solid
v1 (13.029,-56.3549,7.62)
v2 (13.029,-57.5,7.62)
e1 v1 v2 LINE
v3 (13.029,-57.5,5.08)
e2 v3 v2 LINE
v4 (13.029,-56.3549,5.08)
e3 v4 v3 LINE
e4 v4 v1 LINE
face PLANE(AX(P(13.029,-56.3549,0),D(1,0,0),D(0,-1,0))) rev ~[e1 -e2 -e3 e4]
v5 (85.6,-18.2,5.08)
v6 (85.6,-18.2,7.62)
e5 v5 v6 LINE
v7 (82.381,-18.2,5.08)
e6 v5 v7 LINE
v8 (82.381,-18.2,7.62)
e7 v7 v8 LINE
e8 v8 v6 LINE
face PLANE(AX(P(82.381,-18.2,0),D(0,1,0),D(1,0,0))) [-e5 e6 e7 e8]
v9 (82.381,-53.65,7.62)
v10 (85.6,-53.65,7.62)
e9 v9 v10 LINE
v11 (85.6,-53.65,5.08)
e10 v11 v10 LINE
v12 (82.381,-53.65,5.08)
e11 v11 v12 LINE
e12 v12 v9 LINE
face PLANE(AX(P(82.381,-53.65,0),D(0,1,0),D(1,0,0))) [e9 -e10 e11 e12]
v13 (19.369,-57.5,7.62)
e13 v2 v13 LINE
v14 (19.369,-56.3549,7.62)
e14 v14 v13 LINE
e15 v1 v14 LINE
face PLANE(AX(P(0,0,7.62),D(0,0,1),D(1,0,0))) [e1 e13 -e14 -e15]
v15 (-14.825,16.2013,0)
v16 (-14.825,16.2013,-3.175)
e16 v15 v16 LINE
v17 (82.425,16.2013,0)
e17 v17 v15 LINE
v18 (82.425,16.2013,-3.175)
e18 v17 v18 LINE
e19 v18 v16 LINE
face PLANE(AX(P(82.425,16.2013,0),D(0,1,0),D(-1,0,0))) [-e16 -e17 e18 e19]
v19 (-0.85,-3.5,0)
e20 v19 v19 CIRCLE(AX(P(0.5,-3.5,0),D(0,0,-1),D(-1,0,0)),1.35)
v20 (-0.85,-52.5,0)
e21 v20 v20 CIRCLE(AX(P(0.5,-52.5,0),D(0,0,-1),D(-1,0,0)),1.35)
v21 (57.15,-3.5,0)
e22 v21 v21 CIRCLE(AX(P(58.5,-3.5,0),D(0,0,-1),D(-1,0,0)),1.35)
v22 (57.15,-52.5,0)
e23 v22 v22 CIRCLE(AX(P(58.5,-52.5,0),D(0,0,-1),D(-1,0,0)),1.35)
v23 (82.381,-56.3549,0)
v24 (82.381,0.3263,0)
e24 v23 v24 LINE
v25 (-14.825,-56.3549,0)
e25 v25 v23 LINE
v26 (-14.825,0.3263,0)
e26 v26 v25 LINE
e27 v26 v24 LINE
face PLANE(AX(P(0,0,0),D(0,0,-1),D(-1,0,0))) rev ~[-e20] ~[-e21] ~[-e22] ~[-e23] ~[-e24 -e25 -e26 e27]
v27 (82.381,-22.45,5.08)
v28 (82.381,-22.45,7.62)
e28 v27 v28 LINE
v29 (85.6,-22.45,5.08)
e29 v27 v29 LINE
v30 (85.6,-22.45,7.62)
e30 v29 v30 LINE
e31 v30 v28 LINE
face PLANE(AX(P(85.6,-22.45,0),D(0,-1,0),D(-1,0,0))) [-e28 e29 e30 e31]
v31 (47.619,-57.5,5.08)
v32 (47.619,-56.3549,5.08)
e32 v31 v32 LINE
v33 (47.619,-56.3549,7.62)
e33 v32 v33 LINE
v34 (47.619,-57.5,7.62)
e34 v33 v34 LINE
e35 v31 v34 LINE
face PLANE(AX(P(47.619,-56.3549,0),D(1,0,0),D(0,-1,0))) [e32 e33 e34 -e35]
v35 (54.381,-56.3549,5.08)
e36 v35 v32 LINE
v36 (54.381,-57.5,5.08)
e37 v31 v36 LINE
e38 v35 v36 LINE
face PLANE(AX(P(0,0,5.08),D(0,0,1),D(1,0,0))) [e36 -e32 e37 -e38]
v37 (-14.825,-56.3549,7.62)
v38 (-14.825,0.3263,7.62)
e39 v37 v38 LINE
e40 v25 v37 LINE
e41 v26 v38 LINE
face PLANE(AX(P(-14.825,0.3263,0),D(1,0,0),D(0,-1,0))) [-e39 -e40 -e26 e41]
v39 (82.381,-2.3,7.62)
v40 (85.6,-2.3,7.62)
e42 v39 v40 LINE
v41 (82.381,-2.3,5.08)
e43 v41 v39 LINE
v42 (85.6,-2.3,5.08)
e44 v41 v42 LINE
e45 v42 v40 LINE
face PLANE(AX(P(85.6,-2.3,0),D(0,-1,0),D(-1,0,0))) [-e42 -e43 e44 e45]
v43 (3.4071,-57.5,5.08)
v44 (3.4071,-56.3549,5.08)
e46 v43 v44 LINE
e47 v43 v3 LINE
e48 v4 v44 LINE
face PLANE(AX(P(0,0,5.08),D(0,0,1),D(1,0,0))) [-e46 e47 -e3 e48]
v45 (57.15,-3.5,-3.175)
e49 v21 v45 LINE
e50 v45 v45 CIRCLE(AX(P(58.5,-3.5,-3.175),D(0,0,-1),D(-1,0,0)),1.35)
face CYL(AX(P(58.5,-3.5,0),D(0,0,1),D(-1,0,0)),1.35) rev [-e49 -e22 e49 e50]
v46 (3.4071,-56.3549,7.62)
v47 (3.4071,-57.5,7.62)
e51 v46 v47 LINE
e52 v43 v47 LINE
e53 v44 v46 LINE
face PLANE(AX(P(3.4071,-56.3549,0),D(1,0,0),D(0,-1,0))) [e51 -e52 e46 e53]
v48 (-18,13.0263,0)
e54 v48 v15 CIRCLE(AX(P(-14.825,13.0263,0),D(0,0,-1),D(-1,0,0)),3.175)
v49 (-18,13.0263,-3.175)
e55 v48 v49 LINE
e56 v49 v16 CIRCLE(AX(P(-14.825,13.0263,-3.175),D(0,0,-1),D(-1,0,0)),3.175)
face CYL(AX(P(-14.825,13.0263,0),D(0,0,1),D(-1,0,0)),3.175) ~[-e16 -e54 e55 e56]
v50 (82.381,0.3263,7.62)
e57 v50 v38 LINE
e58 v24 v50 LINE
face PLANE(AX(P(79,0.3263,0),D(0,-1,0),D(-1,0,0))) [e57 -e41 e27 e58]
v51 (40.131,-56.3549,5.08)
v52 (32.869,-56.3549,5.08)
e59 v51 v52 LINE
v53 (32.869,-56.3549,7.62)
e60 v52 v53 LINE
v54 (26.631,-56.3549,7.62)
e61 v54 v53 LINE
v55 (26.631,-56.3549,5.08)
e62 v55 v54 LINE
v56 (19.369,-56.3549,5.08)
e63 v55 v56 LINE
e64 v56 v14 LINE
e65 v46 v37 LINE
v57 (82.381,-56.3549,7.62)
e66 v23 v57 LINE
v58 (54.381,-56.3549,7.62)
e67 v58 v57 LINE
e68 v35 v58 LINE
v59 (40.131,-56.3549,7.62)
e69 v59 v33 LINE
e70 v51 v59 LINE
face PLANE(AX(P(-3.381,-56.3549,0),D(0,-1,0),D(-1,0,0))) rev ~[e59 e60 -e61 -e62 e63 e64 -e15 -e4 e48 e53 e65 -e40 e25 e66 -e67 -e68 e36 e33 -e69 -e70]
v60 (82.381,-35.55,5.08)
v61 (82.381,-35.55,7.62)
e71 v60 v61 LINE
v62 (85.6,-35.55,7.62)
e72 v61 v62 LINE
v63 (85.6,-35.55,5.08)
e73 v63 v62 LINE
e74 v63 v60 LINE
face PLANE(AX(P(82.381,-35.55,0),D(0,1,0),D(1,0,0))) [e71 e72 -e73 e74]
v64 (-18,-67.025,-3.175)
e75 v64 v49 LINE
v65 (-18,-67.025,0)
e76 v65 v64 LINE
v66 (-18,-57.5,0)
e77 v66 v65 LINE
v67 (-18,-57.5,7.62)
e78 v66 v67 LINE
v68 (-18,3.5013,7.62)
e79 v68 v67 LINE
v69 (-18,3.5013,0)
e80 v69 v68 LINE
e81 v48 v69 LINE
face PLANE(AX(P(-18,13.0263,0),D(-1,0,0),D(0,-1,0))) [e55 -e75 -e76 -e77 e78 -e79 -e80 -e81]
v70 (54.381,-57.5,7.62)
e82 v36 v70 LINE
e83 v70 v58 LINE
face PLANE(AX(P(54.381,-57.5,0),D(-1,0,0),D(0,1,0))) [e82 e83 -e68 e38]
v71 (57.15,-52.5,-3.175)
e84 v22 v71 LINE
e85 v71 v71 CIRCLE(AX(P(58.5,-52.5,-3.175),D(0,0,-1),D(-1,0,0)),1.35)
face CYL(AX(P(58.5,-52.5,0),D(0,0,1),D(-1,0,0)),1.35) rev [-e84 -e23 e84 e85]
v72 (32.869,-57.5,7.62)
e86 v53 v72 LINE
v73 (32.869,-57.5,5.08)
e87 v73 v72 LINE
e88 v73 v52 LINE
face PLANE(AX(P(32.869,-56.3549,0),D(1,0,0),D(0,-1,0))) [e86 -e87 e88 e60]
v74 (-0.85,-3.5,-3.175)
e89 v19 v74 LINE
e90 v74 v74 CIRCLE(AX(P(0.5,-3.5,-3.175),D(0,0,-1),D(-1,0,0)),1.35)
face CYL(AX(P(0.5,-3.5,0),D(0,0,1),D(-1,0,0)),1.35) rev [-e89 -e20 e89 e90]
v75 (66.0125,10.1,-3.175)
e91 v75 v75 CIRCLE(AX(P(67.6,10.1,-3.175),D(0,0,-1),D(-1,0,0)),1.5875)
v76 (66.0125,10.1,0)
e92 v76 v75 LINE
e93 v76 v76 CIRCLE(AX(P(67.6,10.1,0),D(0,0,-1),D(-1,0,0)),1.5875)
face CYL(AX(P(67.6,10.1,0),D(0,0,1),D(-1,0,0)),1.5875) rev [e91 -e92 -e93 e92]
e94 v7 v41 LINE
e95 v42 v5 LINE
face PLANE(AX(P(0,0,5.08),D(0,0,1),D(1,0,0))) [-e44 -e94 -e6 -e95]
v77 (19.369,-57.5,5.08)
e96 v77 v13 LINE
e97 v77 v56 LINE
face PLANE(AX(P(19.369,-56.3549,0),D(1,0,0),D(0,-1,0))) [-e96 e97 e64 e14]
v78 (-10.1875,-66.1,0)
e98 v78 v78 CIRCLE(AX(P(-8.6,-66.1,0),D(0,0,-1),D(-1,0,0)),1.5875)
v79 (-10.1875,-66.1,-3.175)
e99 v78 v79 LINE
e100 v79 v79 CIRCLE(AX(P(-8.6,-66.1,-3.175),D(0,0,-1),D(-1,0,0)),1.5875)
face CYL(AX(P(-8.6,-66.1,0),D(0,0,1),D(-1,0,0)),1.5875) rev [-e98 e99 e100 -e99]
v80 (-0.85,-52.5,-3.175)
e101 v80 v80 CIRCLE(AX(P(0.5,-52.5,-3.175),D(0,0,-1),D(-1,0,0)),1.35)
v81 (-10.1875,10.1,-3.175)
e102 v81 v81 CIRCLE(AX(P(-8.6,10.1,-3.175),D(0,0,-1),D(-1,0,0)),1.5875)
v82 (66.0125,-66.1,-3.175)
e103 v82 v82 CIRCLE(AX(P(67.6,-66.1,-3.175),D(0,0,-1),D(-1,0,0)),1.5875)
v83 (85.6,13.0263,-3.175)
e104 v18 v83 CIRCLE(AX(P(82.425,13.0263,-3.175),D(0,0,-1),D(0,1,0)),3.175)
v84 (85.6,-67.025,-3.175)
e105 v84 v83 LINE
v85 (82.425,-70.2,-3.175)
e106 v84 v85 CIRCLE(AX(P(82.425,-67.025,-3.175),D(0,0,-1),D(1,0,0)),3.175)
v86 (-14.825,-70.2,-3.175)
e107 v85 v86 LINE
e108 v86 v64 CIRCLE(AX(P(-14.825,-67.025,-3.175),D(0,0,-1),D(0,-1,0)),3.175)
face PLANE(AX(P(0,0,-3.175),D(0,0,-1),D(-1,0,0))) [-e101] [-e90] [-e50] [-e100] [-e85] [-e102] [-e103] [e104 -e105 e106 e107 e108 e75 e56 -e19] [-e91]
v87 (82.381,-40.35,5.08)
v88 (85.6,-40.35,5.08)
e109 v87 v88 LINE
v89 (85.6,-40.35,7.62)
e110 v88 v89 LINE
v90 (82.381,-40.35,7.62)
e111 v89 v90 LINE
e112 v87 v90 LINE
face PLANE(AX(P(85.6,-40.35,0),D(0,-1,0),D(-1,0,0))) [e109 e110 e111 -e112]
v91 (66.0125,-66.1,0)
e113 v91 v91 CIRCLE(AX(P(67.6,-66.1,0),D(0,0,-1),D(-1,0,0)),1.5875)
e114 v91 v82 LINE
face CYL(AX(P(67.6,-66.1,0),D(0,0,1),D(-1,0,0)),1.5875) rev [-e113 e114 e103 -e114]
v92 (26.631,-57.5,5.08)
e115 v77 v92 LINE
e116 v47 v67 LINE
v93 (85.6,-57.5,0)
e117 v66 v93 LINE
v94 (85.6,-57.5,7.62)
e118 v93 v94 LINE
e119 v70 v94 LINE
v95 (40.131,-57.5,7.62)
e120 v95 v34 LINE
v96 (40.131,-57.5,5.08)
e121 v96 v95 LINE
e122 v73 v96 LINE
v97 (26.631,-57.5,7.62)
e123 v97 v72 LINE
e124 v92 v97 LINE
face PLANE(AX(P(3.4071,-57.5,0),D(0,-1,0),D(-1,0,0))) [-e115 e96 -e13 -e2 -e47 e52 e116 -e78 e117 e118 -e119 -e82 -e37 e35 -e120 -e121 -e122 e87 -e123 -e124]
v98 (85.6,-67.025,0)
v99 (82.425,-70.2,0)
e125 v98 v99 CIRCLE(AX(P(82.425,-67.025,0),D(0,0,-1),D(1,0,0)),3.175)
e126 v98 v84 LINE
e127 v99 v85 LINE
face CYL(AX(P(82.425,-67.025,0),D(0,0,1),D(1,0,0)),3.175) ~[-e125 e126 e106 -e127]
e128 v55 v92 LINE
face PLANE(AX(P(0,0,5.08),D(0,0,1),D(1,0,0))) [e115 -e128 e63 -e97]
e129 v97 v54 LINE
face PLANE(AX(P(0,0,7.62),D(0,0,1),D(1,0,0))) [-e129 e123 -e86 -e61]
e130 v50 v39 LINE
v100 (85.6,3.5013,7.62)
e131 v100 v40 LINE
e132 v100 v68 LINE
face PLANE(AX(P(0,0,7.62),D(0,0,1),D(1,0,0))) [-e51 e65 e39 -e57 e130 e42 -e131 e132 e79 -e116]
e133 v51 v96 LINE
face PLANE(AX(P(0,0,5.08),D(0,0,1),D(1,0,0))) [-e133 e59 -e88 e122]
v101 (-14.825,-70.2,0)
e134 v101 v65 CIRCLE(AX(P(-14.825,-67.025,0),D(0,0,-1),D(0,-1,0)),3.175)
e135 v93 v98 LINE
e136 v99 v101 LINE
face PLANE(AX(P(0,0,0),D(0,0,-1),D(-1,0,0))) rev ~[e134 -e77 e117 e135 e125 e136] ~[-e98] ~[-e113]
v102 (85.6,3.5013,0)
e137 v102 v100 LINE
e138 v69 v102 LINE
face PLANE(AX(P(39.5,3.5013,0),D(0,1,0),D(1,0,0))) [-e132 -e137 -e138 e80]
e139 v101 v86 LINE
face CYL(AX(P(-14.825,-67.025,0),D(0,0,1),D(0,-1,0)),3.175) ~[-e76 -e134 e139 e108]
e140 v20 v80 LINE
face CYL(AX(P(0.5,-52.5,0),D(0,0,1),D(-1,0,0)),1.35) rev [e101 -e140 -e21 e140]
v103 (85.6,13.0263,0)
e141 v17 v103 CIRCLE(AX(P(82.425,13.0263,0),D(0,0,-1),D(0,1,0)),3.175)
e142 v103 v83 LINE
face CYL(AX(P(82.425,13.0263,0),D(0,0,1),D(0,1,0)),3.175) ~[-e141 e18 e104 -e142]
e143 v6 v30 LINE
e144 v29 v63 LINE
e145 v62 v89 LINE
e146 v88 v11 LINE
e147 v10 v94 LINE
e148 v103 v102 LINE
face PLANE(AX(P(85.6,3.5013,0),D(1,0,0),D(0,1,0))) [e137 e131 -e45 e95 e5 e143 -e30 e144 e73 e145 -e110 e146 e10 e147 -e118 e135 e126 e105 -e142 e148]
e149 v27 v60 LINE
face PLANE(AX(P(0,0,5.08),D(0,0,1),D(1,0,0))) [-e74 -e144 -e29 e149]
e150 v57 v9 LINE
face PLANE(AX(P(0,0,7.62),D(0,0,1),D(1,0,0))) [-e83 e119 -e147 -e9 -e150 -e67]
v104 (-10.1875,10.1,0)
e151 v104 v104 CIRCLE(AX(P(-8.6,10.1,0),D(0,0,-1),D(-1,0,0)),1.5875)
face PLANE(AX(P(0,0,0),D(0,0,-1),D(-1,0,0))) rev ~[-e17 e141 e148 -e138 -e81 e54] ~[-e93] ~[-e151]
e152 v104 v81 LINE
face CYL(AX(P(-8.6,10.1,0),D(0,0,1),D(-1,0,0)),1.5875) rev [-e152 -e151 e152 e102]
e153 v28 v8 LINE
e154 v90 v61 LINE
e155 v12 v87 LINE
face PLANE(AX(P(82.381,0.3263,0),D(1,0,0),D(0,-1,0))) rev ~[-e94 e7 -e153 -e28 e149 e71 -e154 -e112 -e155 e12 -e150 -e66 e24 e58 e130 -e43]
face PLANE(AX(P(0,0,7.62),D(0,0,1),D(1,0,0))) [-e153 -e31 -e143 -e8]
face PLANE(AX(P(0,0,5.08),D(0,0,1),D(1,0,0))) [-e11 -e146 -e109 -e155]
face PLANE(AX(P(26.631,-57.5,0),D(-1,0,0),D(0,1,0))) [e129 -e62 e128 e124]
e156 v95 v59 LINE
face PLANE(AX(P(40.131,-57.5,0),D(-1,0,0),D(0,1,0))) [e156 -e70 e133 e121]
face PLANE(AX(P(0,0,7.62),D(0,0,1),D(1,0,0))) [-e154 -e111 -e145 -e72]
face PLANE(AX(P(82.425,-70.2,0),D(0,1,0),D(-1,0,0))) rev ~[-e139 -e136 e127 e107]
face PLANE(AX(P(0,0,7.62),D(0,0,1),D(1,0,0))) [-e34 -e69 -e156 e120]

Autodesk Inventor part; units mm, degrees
ref_plane "YZ Plane" through (0, 0, 0) normal (1, 0, 0) x (0, 1, 0)
ref_plane "XZ Plane" through (0, 0, 0) normal (0, 1, 0) x (-1, 0, 0)
ref_plane "XY Plane" through (0, 0, 0) normal (0, 0, 1) x (1, 0, 0)
sketch "0" plane through (0, 0, 0) normal (0, 0, 1) x (1, 0, 0)
  line L0 (79, 0) -> (0, 0)
  arc A0 (0, 0) -> (-3, -3) centre (0, -3) ccw
  line L1 (-3, -3) -> (-3, -53)
  arc A1 (-3, -53) -> (0, -56) centre (0, -53) ccw
  line L2 (0, -56) -> (79, -56)
  arc A2 (79, -56) -> (82, -53) centre (79, -53) ccw
  line L3 (82, -53) -> (82, -3)
  arc A3 (82, -3) -> (79, 0) centre (79, -3) ccw
  circle A4 centre (0.5, -3.5) radius 1.35
  circle A5 centre (0.5, -52.5) radius 1.35
  line L4 (3.73, -49.89) -> (3.73, -57.5)
  line L5 (12.67, -57.5) -> (12.67, -49.89)
  line L6 (5.03, -57.5) -> (11.37, -57.5)
  line L7 (19.75, -50.3) -> (19.75, -57.8)
  line L8 (26.25, -57.8) -> (26.25, -50.3)
  line L9 (20.2, -57.8) -> (25.8, -57.8)
  line L10 (33.25, -50.3) -> (33.25, -57.8)
  line L11 (39.75, -57.8) -> (39.75, -50.3)
  line L12 (33.7, -57.8) -> (39.3, -57.8)
  line L13 (54, -55.9) -> (54, -58.1)
  line L14 (48, -55.9) -> (48, -58.1)
  line L15 (48.3, -58.4) -> (53.7, -58.4)
  line L16 (68.53, -53.65) -> (85, -53.65)
  line L17 (85, -53.35) -> (85, -40.65)
  line L18 (85, -40.35) -> (68.53, -40.35)
  line L19 (68.44, -22.45) -> (85, -22.45)
  line L20 (85.6, -23.75) -> (85.6, -34.25)
  line L21 (68.44, -35.55) -> (85, -35.55)
  line L22 (84.8, -2.3) -> (63.85, -2.3)
  line L23 (85, -18) -> (85, -2.5)
  line L24 (63.85, -18.2) -> (84.8, -18.2)
  circle A6 centre (58.5, -3.5) radius 1.35
  circle A7 centre (58.5, -52.5) radius 1.35
  line L25 (3.73, -57.5) -> (12.67, -57.5)
  line L26 (19.75, -57.8) -> (26.25, -57.8)
  line L27 (33.25, -57.8) -> (39.75, -57.8)
  line L28 (54, -58.1) -> (53.7, -58.4)
  line L29 (48.3, -58.4) -> (48, -58.1)
  line L30 (85, -53.65) -> (85, -40.35)
  line L31 (85, -35.55) -> (85.6, -35.55)
  line L32 (85.6, -35.55) -> (85.6, -22.45)
  line L33 (85.6, -22.45) -> (85, -22.45)
  line L34 (84.8, -18.2) -> (85, -18.2)
  line L35 (85, -18.2) -> (85, -2.3)
  line L36 (85, -2.3) -> (84.8, -2.3)
  line L37 (84.8, -2.3) -> (84.8, -18.2)
  line L38 (-3, -28) -> (-18, -28)
  line L39 (3.73, -57.5) -> (-18, -57.5)
  line L40 (-18, -57.5) -> (85.6, -57.5)
  line L41 (79, 0.3263) -> (0, 0.3263)
  line L42 (39.5, 0.3263) -> (39.5, 3.5013)
  line L43 (0, -56.3549) -> (79, -56.3549)
  line L44 (3.4071, -49.89) -> (3.4071, -57.5)
  line L45 (13.029, -49.89) -> (13.029, -57.859)
  line L46 (13.029, -57.859) -> (3.73, -57.859)
  line L47 (19.369, -50.3) -> (19.369, -58.181)
  line L48 (19.369, -58.181) -> (26.631, -58.181)
  line L49 (26.631, -58.181) -> (26.631, -50.3)
  line L50 (32.869, -50.3) -> (32.869, -58.181)
  line L51 (32.869, -58.181) -> (40.131, -58.181)
  line L52 (40.131, -58.181) -> (40.131, -50.3)
  line L53 (47.619, -55.9) -> (47.619, -58.2578)
  line L54 (47.619, -58.2578) -> (48.1422, -58.781)
  line L55 (48.1422, -58.781) -> (53.8578, -58.781)
  line L56 (53.8578, -58.781) -> (54.381, -58.2578)
  line L57 (54.381, -58.2578) -> (54.381, -55.9)
  line L58 (82.381, -53) -> (82.381, -3)
  line L59 (-3.381, -3) -> (-3.381, -53)
  line L60 (-18, -57.5) -> (39.5, -57.5)
  line L61 (39.5, -57.5) -> (39.5, 3.5013) construction
  line L62 (39.5, 3.5013) -> (-18, 3.5013)
  line L63 (-18, 3.5013) -> (-18, -57.5)
  line L64 (39.5, 3.5013) -> (85.6, 3.5013)
  line L65 (85.6, 3.5013) -> (85.6, -57.5)
  line L66 (85.6, -57.5) -> (39.5, -57.5)
  line L67 (39.5, -57.5) -> (39.5, 3.5013) construction
  line L68 (-3.381, -3) -> (0, -3)
  line L69 (0, -3) -> (0, 0.3263)
  line L70 (0, 0.3263) -> (-3.381, 0.3263)
  line L71 (-3.381, 0.3263) -> (-3.381, -3)
  line L72 (79, 0.3263) -> (82.381, 0.3263)
  line L73 (82.381, 0.3263) -> (82.381, -3)
  line L74 (82.381, -3) -> (79, -3)
  line L75 (79, -3) -> (79, 0.3263)
  line L76 (79, -56.3549) -> (82.381, -56.3549)
  line L77 (82.381, -56.3549) -> (82.381, -53)
  line L78 (82.381, -53) -> (79, -53)
  line L79 (79, -53) -> (79, -56.3549)
  line L80 (-3.381, -53) -> (0, -53)
  line L81 (0, -53) -> (0, -56.3549)
  line L82 (0, -56.3549) -> (-3.381, -56.3549)
  line L83 (-3.381, -56.3549) -> (-3.381, -53)
  line L84 (85, -53.65) -> (85.6, -53.65)
  line L85 (85.6, -53.65) -> (85.6, -40.35)
  line L86 (85.6, -40.35) -> (85, -40.35)
  line L87 (85, -40.35) -> (85, -53.65)
  line L88 (85, -18.2) -> (85.6, -18.2)
  line L89 (85.6, -18.2) -> (85.6, -2.3)
  line L90 (85.6, -2.3) -> (85, -2.3)
  line L91 (85, -2.3) -> (85, -18.2)
  line L92 (-18, -28) -> (-14.825, -28)
  line L93 (-14.825, -28) -> (-3.381, -28)
  line L94 (-3.381, -28) -> (-3.381, 0.3263)
  line L95 (-3.381, 0.3263) -> (-14.825, 0.3263)
  line L96 (-14.825, 0.3263) -> (-14.825, -28)
  line L97 (-14.825, -28) -> (-3.381, -28)
  line L98 (-3.381, -28) -> (-3.381, -56.3549)
  line L99 (-3.381, -56.3549) -> (-14.825, -56.3549)
  line L100 (-14.825, -56.3549) -> (-14.825, -28)
  point P0 (19.369, -57.5)
  point P1 (19.369, -56.3549)
  point P2 (13.029, -56.3549)
  point P3 (13.029, -57.5)
  point P4 (32.869, -57.5)
  point P5 (32.869, -56.3549)
  point P6 (26.631, -56.3549)
  point P7 (26.631, -57.5)
  point P8 (47.619, -57.5)
  point P9 (47.619, -56.3549)
  point P10 (40.131, -56.3549)
  point P11 (40.131, -57.5)
  point P12 (54.381, -56.3549)
  point P13 (54.381, -57.5)
  point P14 (82.381, -53.65)
  point P15 (82.381, -35.55)
  point P16 (82.381, -40.35)
  point P17 (82.381, -18.2)
  point P18 (82.381, -22.45)
  point P19 (82.381, -2.3)
  point P20 (3.4071, -56.3549)
  dimension "d0" = 15
  dimension "d2" = 3.175
  dimension "d3" = 0.381
  dimension "d4" = 0.381
  dimension "d5" = 0.381
  dimension "d6" = 0.381
  dimension "d7" = 0.381
  dimension "d8" = 3.175
extrude "Extrusion1" add sketch "0" along normal blind 7.62 contours L41 L42 L64 L65 L90 L36 L22 L73 L72 | L70 L95 L96 L38 L63 L62 L42 L41 | L69 L68 A4 | A4 L68 L69 | L24 L34 L88 L65 L33 L19 L58 | L80 L81 A5 | A5 L81 L80 | L100 L99 L82 L43 L44 L39 L63 L38 | L21 L31 L65 L86 L18 L58 | L16 L84 L65 L40 L57 L43 L76 L77 | L43 L47 L40 L45 | L43 L50 L40 L49 | L53 L40 L52 L43 | A6 | A7
sketch "Sketch3" plane through (0, 0, 0) normal (0, 0, -1) x (-1, 0, 0)
  line L0 (-85.6, 3.5013) -> (18, 3.5013) projected
  line L1 (-54.381, -57.5) -> (-85.6, -57.5) projected
  line L2 (18, 3.5013) -> (-85.6, 3.5013)
  line L3 (-85.6, 3.5013) -> (-85.6, -57.5)
  line L4 (-85.6, -57.5) -> (18, -57.5)
  line L5 (18, -57.5) -> (18, 3.5013)
  circle A0 centre (-0.5, -3.5) radius 1.35 projected
  circle A1 centre (-0.5, -52.5) radius 1.35 projected
  circle A2 centre (-58.5, -52.5) radius 1.35 projected
  circle A3 centre (-58.5, -3.5) radius 1.35 projected
  line L6 (18, -57.5) -> (-85.6, -57.5)
  line L7 (-85.6, -57.5) -> (-85.6, -67.025)
  line L8 (-82.425, -70.2) -> (14.825, -70.2)
  line L9 (18, -67.025) -> (18, -57.5)
  line L10 (18, 3.5013) -> (-85.6, 3.5013)
  line L11 (-85.6, 3.5013) -> (-85.6, 13.0263)
  line L12 (-82.425, 16.2013) -> (14.825, 16.2013)
  line L13 (18, 13.0263) -> (18, 3.5013)
  arc A4 (18, 13.0263) -> (14.825, 16.2013) centre (14.825, 13.0263) ccw
  arc A5 (-82.425, 16.2013) -> (-85.6, 13.0263) centre (-82.425, 13.0263) ccw
  line L14 (-0.5, -52.5) -> (-58.5, -3.5) construction
  line L15 (-58.5, -3.5) -> (-58.5, -52.5) construction
  line L16 (-58.5, -52.5) -> (-0.5, -3.5) construction
  arc A6 (14.825, -70.2) -> (18, -67.025) centre (14.825, -67.025) ccw
  arc A7 (-85.6, -67.025) -> (-82.425, -70.2) centre (-82.425, -67.025) ccw
  line L17 (-29.5, -28) -> (-29.5, -66.1) construction
  line L18 (-29.5, -66.1) -> (-29.5, 10.1) construction
  line L19 (-29.5, 10.1) -> (8.6, 10.1) construction
  line L20 (8.6, 10.1) -> (-67.6, 10.1) construction
  line L21 (-29.5, -66.1) -> (8.6, -66.1) construction
  line L22 (8.6, -66.1) -> (-67.6, -66.1) construction
  circle A8 centre (8.6, -66.1) radius 1.5875
  circle A9 centre (-67.6, -66.1) radius 1.5875
  circle A10 centre (-67.6, 10.1) radius 1.5875
  circle A11 centre (8.6, 10.1) radius 1.5875
  point P0 (0, 0)
  point P1 (-85.6, -70.2)
  point P2 (-85.6, 16.2013)
  dimension "d11" = 12.7
  dimension "d12" = 12.7
  dimension "d13" = 3.175
  dimension "d14" = 3.175
  dimension "d15" = 38.1
  dimension "d16" = 76.2
  dimension "d17" = 38.1
  dimension "d18" = 76.2
  dimension "d19" = 38.1
  dimension "d20" = 76.2
  dimension "d21" = 3.175
  dimension "d22" = 3.175
  dimension "d23" = 3.175
  dimension "d24" = 3.175
extrude "Extrusion2" add sketch "Sketch3" along normal blind 3.175
sketch "Sketch4" plane through (0.5, -52.5, 7.62) normal (0, 0, 1) x (1, 0, 0)
  circle A0 centre (0, 49) radius 1.35 projected
  circle A1 centre (0, 0) radius 1.35 projected
  circle A2 centre (58, 0) radius 1.35 projected
  circle A3 centre (58, 49) radius 1.35 projected
  point P0 (-0.5, 52.5)
extrude "Extrusion3" cut sketch "Sketch4" against normal through all
sketch "Sketch6" plane through (0, 0, 0) normal (0, 0, 1) x (1, 0, 0)
  circle A0 centre (-8.6, -66.1) radius 1.5875 projected
  circle A1 centre (67.6, -66.1) radius 1.5875 projected
  circle A2 centre (58.5, -3.5) radius 1.35 projected
  circle A3 centre (58.5, -52.5) radius 1.35 projected
  circle A4 centre (0.5, -52.5) radius 1.35 projected
  circle A5 centre (0.5, -3.5) radius 1.35 projected
  line L0 (47.619, -57.5) -> (47.619, -56.3549) projected
  line L1 (40.131, -57.5) -> (47.619, -57.5) projected
  line L2 (40.131, -56.3549) -> (40.131, -57.5) projected
  line L3 (47.619, -56.3549) -> (40.131, -56.3549) projected
  line L4 (32.869, -57.5) -> (32.869, -56.3549) projected
  line L5 (26.631, -57.5) -> (32.869, -57.5) projected
  line L6 (26.631, -56.3549) -> (26.631, -57.5) projected
  line L7 (32.869, -56.3549) -> (26.631, -56.3549) projected
  line L8 (19.369, -57.5) -> (19.369, -56.3549) projected
  line L9 (13.029, -57.5) -> (19.369, -57.5) projected
  line L10 (13.029, -56.3549) -> (13.029, -57.5) projected
  line L11 (19.369, -56.3549) -> (13.029, -56.3549) projected
  line L12 (85.6, -35.55) -> (82.381, -35.55) projected
  line L13 (85.6, -22.45) -> (85.6, -35.55) projected
  line L14 (82.381, -22.45) -> (85.6, -22.45) projected
  line L15 (82.381, -18.2) -> (82.381, -22.45) projected
  line L16 (85.6, -18.2) -> (82.381, -18.2) projected
  line L17 (85.6, -2.3) -> (85.6, -18.2) projected
  line L18 (82.381, -2.3) -> (85.6, -2.3) projected
  line L19 (82.381, 0.3263) -> (82.381, -2.3) projected
  line L20 (-14.825, 0.3263) -> (82.381, 0.3263) projected
  line L21 (-14.825, -56.3549) -> (-14.825, 0.3263) projected
  line L22 (3.4071, -56.3549) -> (-14.825, -56.3549) projected
  line L23 (3.4071, -57.5) -> (3.4071, -56.3549) projected
  line L24 (-18, -57.5) -> (3.4071, -57.5) projected
  line L25 (-18, -67.025) -> (-18, -57.5) projected
  arc A6 (-18, -67.025) -> (-14.825, -70.2) centre (-14.825, -67.025) ccw projected
  line L26 (82.425, -70.2) -> (-14.825, -70.2) projected
  arc A7 (82.425, -70.2) -> (85.6, -67.025) centre (82.425, -67.025) ccw projected
  line L27 (85.6, -57.5) -> (85.6, -67.025) projected
  line L28 (54.381, -57.5) -> (85.6, -57.5) projected
  line L29 (54.381, -56.3549) -> (54.381, -57.5) projected
  line L30 (82.381, -56.3549) -> (54.381, -56.3549) projected
  line L31 (82.381, -53.65) -> (82.381, -56.3549) projected
  line L32 (85.6, -53.65) -> (82.381, -53.65) projected
  line L33 (85.6, -40.35) -> (85.6, -53.65) projected
  line L34 (82.381, -40.35) -> (85.6, -40.35) projected
  line L35 (82.381, -35.55) -> (82.381, -40.35) projected
  line L36 (3.4071, -57.5) -> (13.029, -57.5)
  line L37 (13.029, -57.5) -> (13.029, -56.3549)
  line L38 (13.029, -56.3549) -> (3.4071, -56.3549)
  line L39 (3.4071, -56.3549) -> (3.4071, -57.5)
  line L40 (19.369, -57.5) -> (26.631, -57.5)
  line L41 (26.631, -57.5) -> (26.631, -56.3549)
  line L42 (26.631, -56.3549) -> (19.369, -56.3549)
  line L43 (19.369, -56.3549) -> (19.369, -57.5)
  line L44 (32.869, -57.5) -> (40.131, -57.5)
  line L45 (40.131, -57.5) -> (40.131, -56.3549)
  line L46 (40.131, -56.3549) -> (32.869, -56.3549)
  line L47 (32.869, -56.3549) -> (32.869, -57.5)
  line L48 (47.619, -57.5) -> (54.381, -57.5)
  line L49 (54.381, -57.5) -> (54.381, -56.3549)
  line L50 (54.381, -56.3549) -> (47.619, -56.3549)
  line L51 (47.619, -56.3549) -> (47.619, -57.5)
  line L52 (85.6, -53.65) -> (82.381, -53.65)
  line L53 (82.381, -53.65) -> (82.381, -40.35)
  line L54 (82.381, -40.35) -> (85.6, -40.35)
  line L55 (85.6, -40.35) -> (85.6, -53.65)
  line L56 (82.381, -35.55) -> (85.6, -35.55)
  line L57 (85.6, -35.55) -> (85.6, -22.45)
  line L58 (85.6, -22.45) -> (82.381, -22.45)
  line L59 (82.381, -22.45) -> (82.381, -35.55)
  line L60 (85.6, -18.2) -> (82.381, -18.2)
  line L61 (82.381, -18.2) -> (82.381, -2.3)
  line L62 (82.381, -2.3) -> (85.6, -2.3)
  line L63 (85.6, -2.3) -> (85.6, -18.2)
  point P0 (0, 0)
extrude "Extrusion4" add sketch "Sketch6" along normal blind 5.08 contours L0 L50 L29 L48 | L44 L4 L46 L2 | L40 L8 L42 L6 | L53 L34 L33 L32 | L36 L23 L38 L10 | L59 L14 L13 L12 | L61 L18 L17 L16
sketch "Sketch7" plane through (0, 0, 7.62) normal (0, 0, 1) x (1, 0, 0)
  line L0 (-14.825, -56.3549) -> (-14.825, 0.3263) projected
  line L1 (-14.825, 0.3263) -> (82.381, 0.3263) projected
  line L2 (82.381, 0.3263) -> (82.381, -2.3) projected
  line L3 (82.381, -2.3) -> (85.6, -2.3) projected
  line L4 (85.6, -2.3) -> (85.6, 3.5013) projected
  line L5 (85.6, 3.5013) -> (-18, 3.5013) projected
  line L6 (-18, 3.5013) -> (-18, -57.5) projected
  line L7 (-18, -57.5) -> (3.4071, -57.5) projected
  line L8 (3.4071, -57.5) -> (3.4071, -56.3549) projected
  line L9 (3.4071, -56.3549) -> (-14.825, -56.3549) projected
  line L10 (82.381, -56.3549) -> (-14.825, -56.3549) projected
  line L11 (82.381, 0.3263) -> (82.381, -56.3549) projected
  line L12 (-14.825, 0.3263) -> (82.381, 0.3263) projected
  line L13 (-14.825, -56.3549) -> (-14.825, 0.3263) projected
  circle A0 centre (58.5, -3.5) radius 1.35 projected
  circle A1 centre (58.5, -52.5) radius 1.35 projected
  circle A2 centre (0.5, -52.5) radius 1.35 projected
  circle A3 centre (0.5, -3.5) radius 1.35 projected
  line L14 (13.029, -56.3549) -> (13.029, -57.5) projected
  line L15 (13.029, -56.3549) -> (3.4071, -56.3549) projected
  line L16 (3.4071, -57.5) -> (3.4071, -56.3549) projected
  line L17 (3.4071, -57.5) -> (13.029, -57.5) projected
  line L18 (19.369, -56.3549) -> (13.029, -56.3549) projected
  line L19 (13.029, -56.3549) -> (13.029, -57.5) projected
  line L20 (13.029, -57.5) -> (19.369, -57.5) projected
  line L21 (19.369, -57.5) -> (19.369, -56.3549) projected
  line L22 (26.631, -56.3549) -> (26.631, -57.5) projected
  line L23 (26.631, -56.3549) -> (19.369, -56.3549) projected
  line L24 (19.369, -57.5) -> (19.369, -56.3549) projected
  line L25 (19.369, -57.5) -> (26.631, -57.5) projected
  line L26 (26.631, -57.5) -> (32.869, -57.5) projected
  line L27 (32.869, -56.3549) -> (26.631, -56.3549) projected
  line L28 (26.631, -56.3549) -> (26.631, -57.5) projected
  line L29 (26.631, -57.5) -> (32.869, -57.5) projected
  line L30 (32.869, -57.5) -> (32.869, -56.3549) projected
  line L31 (40.131, -56.3549) -> (40.131, -57.5) projected
  line L32 (40.131, -56.3549) -> (32.869, -56.3549) projected
  line L33 (32.869, -57.5) -> (32.869, -56.3549) projected
  line L34 (32.869, -57.5) -> (40.131, -57.5) projected
  line L35 (47.619, -56.3549) -> (40.131, -56.3549) projected
  line L36 (40.131, -56.3549) -> (40.131, -57.5) projected
  line L37 (40.131, -57.5) -> (47.619, -57.5) projected
  line L38 (47.619, -57.5) -> (47.619, -56.3549) projected
  line L39 (54.381, -56.3549) -> (54.381, -57.5) projected
  line L40 (54.381, -56.3549) -> (47.619, -56.3549) projected
  line L41 (47.619, -57.5) -> (47.619, -56.3549) projected
  line L42 (47.619, -57.5) -> (54.381, -57.5) projected
  line L43 (82.381, -56.3549) -> (54.381, -56.3549) projected
  line L44 (54.381, -56.3549) -> (54.381, -57.5) projected
  line L45 (54.381, -57.5) -> (85.6, -57.5) projected
  line L46 (85.6, -57.5) -> (85.6, -53.65) projected
  line L47 (85.6, -53.65) -> (82.381, -53.65) projected
  line L48 (82.381, -53.65) -> (82.381, -56.3549) projected
  line L49 (85.6, -53.65) -> (82.381, -53.65) projected
  line L50 (85.6, -53.65) -> (85.6, -40.35) projected
  line L51 (82.381, -40.35) -> (85.6, -40.35) projected
  line L52 (82.381, -40.35) -> (82.381, -53.65) projected
  line L53 (85.6, -35.55) -> (82.381, -35.55) projected
  line L54 (85.6, -35.55) -> (85.6, -22.45) projected
  line L55 (82.381, -22.45) -> (85.6, -22.45) projected
  line L56 (82.381, -22.45) -> (82.381, -35.55) projected
  line L57 (85.6, -18.2) -> (85.6, -2.3) projected
  line L58 (85.6, -18.2) -> (82.381, -18.2) projected
  line L59 (85.6, -18.2) -> (85.6, -2.3) projected
  line L60 (82.381, -2.3) -> (85.6, -2.3) projected
  line L61 (82.381, -2.3) -> (82.381, -18.2) projected
  line L62 (85.6, -18.2) -> (82.381, -18.2) projected
  line L63 (82.381, -18.2) -> (82.381, -22.45) projected
  line L64 (82.381, -22.45) -> (85.6, -22.45) projected
  line L65 (85.6, -22.45) -> (85.6, -18.2) projected
  line L66 (85.6, -40.35) -> (85.6, -35.55) projected
  line L67 (85.6, -35.55) -> (82.381, -35.55) projected
  line L68 (82.381, -35.55) -> (82.381, -40.35) projected
  line L69 (82.381, -40.35) -> (85.6, -40.35) projected
  point P0 (0, 0)
properties part number "RPIcaseBottom"
